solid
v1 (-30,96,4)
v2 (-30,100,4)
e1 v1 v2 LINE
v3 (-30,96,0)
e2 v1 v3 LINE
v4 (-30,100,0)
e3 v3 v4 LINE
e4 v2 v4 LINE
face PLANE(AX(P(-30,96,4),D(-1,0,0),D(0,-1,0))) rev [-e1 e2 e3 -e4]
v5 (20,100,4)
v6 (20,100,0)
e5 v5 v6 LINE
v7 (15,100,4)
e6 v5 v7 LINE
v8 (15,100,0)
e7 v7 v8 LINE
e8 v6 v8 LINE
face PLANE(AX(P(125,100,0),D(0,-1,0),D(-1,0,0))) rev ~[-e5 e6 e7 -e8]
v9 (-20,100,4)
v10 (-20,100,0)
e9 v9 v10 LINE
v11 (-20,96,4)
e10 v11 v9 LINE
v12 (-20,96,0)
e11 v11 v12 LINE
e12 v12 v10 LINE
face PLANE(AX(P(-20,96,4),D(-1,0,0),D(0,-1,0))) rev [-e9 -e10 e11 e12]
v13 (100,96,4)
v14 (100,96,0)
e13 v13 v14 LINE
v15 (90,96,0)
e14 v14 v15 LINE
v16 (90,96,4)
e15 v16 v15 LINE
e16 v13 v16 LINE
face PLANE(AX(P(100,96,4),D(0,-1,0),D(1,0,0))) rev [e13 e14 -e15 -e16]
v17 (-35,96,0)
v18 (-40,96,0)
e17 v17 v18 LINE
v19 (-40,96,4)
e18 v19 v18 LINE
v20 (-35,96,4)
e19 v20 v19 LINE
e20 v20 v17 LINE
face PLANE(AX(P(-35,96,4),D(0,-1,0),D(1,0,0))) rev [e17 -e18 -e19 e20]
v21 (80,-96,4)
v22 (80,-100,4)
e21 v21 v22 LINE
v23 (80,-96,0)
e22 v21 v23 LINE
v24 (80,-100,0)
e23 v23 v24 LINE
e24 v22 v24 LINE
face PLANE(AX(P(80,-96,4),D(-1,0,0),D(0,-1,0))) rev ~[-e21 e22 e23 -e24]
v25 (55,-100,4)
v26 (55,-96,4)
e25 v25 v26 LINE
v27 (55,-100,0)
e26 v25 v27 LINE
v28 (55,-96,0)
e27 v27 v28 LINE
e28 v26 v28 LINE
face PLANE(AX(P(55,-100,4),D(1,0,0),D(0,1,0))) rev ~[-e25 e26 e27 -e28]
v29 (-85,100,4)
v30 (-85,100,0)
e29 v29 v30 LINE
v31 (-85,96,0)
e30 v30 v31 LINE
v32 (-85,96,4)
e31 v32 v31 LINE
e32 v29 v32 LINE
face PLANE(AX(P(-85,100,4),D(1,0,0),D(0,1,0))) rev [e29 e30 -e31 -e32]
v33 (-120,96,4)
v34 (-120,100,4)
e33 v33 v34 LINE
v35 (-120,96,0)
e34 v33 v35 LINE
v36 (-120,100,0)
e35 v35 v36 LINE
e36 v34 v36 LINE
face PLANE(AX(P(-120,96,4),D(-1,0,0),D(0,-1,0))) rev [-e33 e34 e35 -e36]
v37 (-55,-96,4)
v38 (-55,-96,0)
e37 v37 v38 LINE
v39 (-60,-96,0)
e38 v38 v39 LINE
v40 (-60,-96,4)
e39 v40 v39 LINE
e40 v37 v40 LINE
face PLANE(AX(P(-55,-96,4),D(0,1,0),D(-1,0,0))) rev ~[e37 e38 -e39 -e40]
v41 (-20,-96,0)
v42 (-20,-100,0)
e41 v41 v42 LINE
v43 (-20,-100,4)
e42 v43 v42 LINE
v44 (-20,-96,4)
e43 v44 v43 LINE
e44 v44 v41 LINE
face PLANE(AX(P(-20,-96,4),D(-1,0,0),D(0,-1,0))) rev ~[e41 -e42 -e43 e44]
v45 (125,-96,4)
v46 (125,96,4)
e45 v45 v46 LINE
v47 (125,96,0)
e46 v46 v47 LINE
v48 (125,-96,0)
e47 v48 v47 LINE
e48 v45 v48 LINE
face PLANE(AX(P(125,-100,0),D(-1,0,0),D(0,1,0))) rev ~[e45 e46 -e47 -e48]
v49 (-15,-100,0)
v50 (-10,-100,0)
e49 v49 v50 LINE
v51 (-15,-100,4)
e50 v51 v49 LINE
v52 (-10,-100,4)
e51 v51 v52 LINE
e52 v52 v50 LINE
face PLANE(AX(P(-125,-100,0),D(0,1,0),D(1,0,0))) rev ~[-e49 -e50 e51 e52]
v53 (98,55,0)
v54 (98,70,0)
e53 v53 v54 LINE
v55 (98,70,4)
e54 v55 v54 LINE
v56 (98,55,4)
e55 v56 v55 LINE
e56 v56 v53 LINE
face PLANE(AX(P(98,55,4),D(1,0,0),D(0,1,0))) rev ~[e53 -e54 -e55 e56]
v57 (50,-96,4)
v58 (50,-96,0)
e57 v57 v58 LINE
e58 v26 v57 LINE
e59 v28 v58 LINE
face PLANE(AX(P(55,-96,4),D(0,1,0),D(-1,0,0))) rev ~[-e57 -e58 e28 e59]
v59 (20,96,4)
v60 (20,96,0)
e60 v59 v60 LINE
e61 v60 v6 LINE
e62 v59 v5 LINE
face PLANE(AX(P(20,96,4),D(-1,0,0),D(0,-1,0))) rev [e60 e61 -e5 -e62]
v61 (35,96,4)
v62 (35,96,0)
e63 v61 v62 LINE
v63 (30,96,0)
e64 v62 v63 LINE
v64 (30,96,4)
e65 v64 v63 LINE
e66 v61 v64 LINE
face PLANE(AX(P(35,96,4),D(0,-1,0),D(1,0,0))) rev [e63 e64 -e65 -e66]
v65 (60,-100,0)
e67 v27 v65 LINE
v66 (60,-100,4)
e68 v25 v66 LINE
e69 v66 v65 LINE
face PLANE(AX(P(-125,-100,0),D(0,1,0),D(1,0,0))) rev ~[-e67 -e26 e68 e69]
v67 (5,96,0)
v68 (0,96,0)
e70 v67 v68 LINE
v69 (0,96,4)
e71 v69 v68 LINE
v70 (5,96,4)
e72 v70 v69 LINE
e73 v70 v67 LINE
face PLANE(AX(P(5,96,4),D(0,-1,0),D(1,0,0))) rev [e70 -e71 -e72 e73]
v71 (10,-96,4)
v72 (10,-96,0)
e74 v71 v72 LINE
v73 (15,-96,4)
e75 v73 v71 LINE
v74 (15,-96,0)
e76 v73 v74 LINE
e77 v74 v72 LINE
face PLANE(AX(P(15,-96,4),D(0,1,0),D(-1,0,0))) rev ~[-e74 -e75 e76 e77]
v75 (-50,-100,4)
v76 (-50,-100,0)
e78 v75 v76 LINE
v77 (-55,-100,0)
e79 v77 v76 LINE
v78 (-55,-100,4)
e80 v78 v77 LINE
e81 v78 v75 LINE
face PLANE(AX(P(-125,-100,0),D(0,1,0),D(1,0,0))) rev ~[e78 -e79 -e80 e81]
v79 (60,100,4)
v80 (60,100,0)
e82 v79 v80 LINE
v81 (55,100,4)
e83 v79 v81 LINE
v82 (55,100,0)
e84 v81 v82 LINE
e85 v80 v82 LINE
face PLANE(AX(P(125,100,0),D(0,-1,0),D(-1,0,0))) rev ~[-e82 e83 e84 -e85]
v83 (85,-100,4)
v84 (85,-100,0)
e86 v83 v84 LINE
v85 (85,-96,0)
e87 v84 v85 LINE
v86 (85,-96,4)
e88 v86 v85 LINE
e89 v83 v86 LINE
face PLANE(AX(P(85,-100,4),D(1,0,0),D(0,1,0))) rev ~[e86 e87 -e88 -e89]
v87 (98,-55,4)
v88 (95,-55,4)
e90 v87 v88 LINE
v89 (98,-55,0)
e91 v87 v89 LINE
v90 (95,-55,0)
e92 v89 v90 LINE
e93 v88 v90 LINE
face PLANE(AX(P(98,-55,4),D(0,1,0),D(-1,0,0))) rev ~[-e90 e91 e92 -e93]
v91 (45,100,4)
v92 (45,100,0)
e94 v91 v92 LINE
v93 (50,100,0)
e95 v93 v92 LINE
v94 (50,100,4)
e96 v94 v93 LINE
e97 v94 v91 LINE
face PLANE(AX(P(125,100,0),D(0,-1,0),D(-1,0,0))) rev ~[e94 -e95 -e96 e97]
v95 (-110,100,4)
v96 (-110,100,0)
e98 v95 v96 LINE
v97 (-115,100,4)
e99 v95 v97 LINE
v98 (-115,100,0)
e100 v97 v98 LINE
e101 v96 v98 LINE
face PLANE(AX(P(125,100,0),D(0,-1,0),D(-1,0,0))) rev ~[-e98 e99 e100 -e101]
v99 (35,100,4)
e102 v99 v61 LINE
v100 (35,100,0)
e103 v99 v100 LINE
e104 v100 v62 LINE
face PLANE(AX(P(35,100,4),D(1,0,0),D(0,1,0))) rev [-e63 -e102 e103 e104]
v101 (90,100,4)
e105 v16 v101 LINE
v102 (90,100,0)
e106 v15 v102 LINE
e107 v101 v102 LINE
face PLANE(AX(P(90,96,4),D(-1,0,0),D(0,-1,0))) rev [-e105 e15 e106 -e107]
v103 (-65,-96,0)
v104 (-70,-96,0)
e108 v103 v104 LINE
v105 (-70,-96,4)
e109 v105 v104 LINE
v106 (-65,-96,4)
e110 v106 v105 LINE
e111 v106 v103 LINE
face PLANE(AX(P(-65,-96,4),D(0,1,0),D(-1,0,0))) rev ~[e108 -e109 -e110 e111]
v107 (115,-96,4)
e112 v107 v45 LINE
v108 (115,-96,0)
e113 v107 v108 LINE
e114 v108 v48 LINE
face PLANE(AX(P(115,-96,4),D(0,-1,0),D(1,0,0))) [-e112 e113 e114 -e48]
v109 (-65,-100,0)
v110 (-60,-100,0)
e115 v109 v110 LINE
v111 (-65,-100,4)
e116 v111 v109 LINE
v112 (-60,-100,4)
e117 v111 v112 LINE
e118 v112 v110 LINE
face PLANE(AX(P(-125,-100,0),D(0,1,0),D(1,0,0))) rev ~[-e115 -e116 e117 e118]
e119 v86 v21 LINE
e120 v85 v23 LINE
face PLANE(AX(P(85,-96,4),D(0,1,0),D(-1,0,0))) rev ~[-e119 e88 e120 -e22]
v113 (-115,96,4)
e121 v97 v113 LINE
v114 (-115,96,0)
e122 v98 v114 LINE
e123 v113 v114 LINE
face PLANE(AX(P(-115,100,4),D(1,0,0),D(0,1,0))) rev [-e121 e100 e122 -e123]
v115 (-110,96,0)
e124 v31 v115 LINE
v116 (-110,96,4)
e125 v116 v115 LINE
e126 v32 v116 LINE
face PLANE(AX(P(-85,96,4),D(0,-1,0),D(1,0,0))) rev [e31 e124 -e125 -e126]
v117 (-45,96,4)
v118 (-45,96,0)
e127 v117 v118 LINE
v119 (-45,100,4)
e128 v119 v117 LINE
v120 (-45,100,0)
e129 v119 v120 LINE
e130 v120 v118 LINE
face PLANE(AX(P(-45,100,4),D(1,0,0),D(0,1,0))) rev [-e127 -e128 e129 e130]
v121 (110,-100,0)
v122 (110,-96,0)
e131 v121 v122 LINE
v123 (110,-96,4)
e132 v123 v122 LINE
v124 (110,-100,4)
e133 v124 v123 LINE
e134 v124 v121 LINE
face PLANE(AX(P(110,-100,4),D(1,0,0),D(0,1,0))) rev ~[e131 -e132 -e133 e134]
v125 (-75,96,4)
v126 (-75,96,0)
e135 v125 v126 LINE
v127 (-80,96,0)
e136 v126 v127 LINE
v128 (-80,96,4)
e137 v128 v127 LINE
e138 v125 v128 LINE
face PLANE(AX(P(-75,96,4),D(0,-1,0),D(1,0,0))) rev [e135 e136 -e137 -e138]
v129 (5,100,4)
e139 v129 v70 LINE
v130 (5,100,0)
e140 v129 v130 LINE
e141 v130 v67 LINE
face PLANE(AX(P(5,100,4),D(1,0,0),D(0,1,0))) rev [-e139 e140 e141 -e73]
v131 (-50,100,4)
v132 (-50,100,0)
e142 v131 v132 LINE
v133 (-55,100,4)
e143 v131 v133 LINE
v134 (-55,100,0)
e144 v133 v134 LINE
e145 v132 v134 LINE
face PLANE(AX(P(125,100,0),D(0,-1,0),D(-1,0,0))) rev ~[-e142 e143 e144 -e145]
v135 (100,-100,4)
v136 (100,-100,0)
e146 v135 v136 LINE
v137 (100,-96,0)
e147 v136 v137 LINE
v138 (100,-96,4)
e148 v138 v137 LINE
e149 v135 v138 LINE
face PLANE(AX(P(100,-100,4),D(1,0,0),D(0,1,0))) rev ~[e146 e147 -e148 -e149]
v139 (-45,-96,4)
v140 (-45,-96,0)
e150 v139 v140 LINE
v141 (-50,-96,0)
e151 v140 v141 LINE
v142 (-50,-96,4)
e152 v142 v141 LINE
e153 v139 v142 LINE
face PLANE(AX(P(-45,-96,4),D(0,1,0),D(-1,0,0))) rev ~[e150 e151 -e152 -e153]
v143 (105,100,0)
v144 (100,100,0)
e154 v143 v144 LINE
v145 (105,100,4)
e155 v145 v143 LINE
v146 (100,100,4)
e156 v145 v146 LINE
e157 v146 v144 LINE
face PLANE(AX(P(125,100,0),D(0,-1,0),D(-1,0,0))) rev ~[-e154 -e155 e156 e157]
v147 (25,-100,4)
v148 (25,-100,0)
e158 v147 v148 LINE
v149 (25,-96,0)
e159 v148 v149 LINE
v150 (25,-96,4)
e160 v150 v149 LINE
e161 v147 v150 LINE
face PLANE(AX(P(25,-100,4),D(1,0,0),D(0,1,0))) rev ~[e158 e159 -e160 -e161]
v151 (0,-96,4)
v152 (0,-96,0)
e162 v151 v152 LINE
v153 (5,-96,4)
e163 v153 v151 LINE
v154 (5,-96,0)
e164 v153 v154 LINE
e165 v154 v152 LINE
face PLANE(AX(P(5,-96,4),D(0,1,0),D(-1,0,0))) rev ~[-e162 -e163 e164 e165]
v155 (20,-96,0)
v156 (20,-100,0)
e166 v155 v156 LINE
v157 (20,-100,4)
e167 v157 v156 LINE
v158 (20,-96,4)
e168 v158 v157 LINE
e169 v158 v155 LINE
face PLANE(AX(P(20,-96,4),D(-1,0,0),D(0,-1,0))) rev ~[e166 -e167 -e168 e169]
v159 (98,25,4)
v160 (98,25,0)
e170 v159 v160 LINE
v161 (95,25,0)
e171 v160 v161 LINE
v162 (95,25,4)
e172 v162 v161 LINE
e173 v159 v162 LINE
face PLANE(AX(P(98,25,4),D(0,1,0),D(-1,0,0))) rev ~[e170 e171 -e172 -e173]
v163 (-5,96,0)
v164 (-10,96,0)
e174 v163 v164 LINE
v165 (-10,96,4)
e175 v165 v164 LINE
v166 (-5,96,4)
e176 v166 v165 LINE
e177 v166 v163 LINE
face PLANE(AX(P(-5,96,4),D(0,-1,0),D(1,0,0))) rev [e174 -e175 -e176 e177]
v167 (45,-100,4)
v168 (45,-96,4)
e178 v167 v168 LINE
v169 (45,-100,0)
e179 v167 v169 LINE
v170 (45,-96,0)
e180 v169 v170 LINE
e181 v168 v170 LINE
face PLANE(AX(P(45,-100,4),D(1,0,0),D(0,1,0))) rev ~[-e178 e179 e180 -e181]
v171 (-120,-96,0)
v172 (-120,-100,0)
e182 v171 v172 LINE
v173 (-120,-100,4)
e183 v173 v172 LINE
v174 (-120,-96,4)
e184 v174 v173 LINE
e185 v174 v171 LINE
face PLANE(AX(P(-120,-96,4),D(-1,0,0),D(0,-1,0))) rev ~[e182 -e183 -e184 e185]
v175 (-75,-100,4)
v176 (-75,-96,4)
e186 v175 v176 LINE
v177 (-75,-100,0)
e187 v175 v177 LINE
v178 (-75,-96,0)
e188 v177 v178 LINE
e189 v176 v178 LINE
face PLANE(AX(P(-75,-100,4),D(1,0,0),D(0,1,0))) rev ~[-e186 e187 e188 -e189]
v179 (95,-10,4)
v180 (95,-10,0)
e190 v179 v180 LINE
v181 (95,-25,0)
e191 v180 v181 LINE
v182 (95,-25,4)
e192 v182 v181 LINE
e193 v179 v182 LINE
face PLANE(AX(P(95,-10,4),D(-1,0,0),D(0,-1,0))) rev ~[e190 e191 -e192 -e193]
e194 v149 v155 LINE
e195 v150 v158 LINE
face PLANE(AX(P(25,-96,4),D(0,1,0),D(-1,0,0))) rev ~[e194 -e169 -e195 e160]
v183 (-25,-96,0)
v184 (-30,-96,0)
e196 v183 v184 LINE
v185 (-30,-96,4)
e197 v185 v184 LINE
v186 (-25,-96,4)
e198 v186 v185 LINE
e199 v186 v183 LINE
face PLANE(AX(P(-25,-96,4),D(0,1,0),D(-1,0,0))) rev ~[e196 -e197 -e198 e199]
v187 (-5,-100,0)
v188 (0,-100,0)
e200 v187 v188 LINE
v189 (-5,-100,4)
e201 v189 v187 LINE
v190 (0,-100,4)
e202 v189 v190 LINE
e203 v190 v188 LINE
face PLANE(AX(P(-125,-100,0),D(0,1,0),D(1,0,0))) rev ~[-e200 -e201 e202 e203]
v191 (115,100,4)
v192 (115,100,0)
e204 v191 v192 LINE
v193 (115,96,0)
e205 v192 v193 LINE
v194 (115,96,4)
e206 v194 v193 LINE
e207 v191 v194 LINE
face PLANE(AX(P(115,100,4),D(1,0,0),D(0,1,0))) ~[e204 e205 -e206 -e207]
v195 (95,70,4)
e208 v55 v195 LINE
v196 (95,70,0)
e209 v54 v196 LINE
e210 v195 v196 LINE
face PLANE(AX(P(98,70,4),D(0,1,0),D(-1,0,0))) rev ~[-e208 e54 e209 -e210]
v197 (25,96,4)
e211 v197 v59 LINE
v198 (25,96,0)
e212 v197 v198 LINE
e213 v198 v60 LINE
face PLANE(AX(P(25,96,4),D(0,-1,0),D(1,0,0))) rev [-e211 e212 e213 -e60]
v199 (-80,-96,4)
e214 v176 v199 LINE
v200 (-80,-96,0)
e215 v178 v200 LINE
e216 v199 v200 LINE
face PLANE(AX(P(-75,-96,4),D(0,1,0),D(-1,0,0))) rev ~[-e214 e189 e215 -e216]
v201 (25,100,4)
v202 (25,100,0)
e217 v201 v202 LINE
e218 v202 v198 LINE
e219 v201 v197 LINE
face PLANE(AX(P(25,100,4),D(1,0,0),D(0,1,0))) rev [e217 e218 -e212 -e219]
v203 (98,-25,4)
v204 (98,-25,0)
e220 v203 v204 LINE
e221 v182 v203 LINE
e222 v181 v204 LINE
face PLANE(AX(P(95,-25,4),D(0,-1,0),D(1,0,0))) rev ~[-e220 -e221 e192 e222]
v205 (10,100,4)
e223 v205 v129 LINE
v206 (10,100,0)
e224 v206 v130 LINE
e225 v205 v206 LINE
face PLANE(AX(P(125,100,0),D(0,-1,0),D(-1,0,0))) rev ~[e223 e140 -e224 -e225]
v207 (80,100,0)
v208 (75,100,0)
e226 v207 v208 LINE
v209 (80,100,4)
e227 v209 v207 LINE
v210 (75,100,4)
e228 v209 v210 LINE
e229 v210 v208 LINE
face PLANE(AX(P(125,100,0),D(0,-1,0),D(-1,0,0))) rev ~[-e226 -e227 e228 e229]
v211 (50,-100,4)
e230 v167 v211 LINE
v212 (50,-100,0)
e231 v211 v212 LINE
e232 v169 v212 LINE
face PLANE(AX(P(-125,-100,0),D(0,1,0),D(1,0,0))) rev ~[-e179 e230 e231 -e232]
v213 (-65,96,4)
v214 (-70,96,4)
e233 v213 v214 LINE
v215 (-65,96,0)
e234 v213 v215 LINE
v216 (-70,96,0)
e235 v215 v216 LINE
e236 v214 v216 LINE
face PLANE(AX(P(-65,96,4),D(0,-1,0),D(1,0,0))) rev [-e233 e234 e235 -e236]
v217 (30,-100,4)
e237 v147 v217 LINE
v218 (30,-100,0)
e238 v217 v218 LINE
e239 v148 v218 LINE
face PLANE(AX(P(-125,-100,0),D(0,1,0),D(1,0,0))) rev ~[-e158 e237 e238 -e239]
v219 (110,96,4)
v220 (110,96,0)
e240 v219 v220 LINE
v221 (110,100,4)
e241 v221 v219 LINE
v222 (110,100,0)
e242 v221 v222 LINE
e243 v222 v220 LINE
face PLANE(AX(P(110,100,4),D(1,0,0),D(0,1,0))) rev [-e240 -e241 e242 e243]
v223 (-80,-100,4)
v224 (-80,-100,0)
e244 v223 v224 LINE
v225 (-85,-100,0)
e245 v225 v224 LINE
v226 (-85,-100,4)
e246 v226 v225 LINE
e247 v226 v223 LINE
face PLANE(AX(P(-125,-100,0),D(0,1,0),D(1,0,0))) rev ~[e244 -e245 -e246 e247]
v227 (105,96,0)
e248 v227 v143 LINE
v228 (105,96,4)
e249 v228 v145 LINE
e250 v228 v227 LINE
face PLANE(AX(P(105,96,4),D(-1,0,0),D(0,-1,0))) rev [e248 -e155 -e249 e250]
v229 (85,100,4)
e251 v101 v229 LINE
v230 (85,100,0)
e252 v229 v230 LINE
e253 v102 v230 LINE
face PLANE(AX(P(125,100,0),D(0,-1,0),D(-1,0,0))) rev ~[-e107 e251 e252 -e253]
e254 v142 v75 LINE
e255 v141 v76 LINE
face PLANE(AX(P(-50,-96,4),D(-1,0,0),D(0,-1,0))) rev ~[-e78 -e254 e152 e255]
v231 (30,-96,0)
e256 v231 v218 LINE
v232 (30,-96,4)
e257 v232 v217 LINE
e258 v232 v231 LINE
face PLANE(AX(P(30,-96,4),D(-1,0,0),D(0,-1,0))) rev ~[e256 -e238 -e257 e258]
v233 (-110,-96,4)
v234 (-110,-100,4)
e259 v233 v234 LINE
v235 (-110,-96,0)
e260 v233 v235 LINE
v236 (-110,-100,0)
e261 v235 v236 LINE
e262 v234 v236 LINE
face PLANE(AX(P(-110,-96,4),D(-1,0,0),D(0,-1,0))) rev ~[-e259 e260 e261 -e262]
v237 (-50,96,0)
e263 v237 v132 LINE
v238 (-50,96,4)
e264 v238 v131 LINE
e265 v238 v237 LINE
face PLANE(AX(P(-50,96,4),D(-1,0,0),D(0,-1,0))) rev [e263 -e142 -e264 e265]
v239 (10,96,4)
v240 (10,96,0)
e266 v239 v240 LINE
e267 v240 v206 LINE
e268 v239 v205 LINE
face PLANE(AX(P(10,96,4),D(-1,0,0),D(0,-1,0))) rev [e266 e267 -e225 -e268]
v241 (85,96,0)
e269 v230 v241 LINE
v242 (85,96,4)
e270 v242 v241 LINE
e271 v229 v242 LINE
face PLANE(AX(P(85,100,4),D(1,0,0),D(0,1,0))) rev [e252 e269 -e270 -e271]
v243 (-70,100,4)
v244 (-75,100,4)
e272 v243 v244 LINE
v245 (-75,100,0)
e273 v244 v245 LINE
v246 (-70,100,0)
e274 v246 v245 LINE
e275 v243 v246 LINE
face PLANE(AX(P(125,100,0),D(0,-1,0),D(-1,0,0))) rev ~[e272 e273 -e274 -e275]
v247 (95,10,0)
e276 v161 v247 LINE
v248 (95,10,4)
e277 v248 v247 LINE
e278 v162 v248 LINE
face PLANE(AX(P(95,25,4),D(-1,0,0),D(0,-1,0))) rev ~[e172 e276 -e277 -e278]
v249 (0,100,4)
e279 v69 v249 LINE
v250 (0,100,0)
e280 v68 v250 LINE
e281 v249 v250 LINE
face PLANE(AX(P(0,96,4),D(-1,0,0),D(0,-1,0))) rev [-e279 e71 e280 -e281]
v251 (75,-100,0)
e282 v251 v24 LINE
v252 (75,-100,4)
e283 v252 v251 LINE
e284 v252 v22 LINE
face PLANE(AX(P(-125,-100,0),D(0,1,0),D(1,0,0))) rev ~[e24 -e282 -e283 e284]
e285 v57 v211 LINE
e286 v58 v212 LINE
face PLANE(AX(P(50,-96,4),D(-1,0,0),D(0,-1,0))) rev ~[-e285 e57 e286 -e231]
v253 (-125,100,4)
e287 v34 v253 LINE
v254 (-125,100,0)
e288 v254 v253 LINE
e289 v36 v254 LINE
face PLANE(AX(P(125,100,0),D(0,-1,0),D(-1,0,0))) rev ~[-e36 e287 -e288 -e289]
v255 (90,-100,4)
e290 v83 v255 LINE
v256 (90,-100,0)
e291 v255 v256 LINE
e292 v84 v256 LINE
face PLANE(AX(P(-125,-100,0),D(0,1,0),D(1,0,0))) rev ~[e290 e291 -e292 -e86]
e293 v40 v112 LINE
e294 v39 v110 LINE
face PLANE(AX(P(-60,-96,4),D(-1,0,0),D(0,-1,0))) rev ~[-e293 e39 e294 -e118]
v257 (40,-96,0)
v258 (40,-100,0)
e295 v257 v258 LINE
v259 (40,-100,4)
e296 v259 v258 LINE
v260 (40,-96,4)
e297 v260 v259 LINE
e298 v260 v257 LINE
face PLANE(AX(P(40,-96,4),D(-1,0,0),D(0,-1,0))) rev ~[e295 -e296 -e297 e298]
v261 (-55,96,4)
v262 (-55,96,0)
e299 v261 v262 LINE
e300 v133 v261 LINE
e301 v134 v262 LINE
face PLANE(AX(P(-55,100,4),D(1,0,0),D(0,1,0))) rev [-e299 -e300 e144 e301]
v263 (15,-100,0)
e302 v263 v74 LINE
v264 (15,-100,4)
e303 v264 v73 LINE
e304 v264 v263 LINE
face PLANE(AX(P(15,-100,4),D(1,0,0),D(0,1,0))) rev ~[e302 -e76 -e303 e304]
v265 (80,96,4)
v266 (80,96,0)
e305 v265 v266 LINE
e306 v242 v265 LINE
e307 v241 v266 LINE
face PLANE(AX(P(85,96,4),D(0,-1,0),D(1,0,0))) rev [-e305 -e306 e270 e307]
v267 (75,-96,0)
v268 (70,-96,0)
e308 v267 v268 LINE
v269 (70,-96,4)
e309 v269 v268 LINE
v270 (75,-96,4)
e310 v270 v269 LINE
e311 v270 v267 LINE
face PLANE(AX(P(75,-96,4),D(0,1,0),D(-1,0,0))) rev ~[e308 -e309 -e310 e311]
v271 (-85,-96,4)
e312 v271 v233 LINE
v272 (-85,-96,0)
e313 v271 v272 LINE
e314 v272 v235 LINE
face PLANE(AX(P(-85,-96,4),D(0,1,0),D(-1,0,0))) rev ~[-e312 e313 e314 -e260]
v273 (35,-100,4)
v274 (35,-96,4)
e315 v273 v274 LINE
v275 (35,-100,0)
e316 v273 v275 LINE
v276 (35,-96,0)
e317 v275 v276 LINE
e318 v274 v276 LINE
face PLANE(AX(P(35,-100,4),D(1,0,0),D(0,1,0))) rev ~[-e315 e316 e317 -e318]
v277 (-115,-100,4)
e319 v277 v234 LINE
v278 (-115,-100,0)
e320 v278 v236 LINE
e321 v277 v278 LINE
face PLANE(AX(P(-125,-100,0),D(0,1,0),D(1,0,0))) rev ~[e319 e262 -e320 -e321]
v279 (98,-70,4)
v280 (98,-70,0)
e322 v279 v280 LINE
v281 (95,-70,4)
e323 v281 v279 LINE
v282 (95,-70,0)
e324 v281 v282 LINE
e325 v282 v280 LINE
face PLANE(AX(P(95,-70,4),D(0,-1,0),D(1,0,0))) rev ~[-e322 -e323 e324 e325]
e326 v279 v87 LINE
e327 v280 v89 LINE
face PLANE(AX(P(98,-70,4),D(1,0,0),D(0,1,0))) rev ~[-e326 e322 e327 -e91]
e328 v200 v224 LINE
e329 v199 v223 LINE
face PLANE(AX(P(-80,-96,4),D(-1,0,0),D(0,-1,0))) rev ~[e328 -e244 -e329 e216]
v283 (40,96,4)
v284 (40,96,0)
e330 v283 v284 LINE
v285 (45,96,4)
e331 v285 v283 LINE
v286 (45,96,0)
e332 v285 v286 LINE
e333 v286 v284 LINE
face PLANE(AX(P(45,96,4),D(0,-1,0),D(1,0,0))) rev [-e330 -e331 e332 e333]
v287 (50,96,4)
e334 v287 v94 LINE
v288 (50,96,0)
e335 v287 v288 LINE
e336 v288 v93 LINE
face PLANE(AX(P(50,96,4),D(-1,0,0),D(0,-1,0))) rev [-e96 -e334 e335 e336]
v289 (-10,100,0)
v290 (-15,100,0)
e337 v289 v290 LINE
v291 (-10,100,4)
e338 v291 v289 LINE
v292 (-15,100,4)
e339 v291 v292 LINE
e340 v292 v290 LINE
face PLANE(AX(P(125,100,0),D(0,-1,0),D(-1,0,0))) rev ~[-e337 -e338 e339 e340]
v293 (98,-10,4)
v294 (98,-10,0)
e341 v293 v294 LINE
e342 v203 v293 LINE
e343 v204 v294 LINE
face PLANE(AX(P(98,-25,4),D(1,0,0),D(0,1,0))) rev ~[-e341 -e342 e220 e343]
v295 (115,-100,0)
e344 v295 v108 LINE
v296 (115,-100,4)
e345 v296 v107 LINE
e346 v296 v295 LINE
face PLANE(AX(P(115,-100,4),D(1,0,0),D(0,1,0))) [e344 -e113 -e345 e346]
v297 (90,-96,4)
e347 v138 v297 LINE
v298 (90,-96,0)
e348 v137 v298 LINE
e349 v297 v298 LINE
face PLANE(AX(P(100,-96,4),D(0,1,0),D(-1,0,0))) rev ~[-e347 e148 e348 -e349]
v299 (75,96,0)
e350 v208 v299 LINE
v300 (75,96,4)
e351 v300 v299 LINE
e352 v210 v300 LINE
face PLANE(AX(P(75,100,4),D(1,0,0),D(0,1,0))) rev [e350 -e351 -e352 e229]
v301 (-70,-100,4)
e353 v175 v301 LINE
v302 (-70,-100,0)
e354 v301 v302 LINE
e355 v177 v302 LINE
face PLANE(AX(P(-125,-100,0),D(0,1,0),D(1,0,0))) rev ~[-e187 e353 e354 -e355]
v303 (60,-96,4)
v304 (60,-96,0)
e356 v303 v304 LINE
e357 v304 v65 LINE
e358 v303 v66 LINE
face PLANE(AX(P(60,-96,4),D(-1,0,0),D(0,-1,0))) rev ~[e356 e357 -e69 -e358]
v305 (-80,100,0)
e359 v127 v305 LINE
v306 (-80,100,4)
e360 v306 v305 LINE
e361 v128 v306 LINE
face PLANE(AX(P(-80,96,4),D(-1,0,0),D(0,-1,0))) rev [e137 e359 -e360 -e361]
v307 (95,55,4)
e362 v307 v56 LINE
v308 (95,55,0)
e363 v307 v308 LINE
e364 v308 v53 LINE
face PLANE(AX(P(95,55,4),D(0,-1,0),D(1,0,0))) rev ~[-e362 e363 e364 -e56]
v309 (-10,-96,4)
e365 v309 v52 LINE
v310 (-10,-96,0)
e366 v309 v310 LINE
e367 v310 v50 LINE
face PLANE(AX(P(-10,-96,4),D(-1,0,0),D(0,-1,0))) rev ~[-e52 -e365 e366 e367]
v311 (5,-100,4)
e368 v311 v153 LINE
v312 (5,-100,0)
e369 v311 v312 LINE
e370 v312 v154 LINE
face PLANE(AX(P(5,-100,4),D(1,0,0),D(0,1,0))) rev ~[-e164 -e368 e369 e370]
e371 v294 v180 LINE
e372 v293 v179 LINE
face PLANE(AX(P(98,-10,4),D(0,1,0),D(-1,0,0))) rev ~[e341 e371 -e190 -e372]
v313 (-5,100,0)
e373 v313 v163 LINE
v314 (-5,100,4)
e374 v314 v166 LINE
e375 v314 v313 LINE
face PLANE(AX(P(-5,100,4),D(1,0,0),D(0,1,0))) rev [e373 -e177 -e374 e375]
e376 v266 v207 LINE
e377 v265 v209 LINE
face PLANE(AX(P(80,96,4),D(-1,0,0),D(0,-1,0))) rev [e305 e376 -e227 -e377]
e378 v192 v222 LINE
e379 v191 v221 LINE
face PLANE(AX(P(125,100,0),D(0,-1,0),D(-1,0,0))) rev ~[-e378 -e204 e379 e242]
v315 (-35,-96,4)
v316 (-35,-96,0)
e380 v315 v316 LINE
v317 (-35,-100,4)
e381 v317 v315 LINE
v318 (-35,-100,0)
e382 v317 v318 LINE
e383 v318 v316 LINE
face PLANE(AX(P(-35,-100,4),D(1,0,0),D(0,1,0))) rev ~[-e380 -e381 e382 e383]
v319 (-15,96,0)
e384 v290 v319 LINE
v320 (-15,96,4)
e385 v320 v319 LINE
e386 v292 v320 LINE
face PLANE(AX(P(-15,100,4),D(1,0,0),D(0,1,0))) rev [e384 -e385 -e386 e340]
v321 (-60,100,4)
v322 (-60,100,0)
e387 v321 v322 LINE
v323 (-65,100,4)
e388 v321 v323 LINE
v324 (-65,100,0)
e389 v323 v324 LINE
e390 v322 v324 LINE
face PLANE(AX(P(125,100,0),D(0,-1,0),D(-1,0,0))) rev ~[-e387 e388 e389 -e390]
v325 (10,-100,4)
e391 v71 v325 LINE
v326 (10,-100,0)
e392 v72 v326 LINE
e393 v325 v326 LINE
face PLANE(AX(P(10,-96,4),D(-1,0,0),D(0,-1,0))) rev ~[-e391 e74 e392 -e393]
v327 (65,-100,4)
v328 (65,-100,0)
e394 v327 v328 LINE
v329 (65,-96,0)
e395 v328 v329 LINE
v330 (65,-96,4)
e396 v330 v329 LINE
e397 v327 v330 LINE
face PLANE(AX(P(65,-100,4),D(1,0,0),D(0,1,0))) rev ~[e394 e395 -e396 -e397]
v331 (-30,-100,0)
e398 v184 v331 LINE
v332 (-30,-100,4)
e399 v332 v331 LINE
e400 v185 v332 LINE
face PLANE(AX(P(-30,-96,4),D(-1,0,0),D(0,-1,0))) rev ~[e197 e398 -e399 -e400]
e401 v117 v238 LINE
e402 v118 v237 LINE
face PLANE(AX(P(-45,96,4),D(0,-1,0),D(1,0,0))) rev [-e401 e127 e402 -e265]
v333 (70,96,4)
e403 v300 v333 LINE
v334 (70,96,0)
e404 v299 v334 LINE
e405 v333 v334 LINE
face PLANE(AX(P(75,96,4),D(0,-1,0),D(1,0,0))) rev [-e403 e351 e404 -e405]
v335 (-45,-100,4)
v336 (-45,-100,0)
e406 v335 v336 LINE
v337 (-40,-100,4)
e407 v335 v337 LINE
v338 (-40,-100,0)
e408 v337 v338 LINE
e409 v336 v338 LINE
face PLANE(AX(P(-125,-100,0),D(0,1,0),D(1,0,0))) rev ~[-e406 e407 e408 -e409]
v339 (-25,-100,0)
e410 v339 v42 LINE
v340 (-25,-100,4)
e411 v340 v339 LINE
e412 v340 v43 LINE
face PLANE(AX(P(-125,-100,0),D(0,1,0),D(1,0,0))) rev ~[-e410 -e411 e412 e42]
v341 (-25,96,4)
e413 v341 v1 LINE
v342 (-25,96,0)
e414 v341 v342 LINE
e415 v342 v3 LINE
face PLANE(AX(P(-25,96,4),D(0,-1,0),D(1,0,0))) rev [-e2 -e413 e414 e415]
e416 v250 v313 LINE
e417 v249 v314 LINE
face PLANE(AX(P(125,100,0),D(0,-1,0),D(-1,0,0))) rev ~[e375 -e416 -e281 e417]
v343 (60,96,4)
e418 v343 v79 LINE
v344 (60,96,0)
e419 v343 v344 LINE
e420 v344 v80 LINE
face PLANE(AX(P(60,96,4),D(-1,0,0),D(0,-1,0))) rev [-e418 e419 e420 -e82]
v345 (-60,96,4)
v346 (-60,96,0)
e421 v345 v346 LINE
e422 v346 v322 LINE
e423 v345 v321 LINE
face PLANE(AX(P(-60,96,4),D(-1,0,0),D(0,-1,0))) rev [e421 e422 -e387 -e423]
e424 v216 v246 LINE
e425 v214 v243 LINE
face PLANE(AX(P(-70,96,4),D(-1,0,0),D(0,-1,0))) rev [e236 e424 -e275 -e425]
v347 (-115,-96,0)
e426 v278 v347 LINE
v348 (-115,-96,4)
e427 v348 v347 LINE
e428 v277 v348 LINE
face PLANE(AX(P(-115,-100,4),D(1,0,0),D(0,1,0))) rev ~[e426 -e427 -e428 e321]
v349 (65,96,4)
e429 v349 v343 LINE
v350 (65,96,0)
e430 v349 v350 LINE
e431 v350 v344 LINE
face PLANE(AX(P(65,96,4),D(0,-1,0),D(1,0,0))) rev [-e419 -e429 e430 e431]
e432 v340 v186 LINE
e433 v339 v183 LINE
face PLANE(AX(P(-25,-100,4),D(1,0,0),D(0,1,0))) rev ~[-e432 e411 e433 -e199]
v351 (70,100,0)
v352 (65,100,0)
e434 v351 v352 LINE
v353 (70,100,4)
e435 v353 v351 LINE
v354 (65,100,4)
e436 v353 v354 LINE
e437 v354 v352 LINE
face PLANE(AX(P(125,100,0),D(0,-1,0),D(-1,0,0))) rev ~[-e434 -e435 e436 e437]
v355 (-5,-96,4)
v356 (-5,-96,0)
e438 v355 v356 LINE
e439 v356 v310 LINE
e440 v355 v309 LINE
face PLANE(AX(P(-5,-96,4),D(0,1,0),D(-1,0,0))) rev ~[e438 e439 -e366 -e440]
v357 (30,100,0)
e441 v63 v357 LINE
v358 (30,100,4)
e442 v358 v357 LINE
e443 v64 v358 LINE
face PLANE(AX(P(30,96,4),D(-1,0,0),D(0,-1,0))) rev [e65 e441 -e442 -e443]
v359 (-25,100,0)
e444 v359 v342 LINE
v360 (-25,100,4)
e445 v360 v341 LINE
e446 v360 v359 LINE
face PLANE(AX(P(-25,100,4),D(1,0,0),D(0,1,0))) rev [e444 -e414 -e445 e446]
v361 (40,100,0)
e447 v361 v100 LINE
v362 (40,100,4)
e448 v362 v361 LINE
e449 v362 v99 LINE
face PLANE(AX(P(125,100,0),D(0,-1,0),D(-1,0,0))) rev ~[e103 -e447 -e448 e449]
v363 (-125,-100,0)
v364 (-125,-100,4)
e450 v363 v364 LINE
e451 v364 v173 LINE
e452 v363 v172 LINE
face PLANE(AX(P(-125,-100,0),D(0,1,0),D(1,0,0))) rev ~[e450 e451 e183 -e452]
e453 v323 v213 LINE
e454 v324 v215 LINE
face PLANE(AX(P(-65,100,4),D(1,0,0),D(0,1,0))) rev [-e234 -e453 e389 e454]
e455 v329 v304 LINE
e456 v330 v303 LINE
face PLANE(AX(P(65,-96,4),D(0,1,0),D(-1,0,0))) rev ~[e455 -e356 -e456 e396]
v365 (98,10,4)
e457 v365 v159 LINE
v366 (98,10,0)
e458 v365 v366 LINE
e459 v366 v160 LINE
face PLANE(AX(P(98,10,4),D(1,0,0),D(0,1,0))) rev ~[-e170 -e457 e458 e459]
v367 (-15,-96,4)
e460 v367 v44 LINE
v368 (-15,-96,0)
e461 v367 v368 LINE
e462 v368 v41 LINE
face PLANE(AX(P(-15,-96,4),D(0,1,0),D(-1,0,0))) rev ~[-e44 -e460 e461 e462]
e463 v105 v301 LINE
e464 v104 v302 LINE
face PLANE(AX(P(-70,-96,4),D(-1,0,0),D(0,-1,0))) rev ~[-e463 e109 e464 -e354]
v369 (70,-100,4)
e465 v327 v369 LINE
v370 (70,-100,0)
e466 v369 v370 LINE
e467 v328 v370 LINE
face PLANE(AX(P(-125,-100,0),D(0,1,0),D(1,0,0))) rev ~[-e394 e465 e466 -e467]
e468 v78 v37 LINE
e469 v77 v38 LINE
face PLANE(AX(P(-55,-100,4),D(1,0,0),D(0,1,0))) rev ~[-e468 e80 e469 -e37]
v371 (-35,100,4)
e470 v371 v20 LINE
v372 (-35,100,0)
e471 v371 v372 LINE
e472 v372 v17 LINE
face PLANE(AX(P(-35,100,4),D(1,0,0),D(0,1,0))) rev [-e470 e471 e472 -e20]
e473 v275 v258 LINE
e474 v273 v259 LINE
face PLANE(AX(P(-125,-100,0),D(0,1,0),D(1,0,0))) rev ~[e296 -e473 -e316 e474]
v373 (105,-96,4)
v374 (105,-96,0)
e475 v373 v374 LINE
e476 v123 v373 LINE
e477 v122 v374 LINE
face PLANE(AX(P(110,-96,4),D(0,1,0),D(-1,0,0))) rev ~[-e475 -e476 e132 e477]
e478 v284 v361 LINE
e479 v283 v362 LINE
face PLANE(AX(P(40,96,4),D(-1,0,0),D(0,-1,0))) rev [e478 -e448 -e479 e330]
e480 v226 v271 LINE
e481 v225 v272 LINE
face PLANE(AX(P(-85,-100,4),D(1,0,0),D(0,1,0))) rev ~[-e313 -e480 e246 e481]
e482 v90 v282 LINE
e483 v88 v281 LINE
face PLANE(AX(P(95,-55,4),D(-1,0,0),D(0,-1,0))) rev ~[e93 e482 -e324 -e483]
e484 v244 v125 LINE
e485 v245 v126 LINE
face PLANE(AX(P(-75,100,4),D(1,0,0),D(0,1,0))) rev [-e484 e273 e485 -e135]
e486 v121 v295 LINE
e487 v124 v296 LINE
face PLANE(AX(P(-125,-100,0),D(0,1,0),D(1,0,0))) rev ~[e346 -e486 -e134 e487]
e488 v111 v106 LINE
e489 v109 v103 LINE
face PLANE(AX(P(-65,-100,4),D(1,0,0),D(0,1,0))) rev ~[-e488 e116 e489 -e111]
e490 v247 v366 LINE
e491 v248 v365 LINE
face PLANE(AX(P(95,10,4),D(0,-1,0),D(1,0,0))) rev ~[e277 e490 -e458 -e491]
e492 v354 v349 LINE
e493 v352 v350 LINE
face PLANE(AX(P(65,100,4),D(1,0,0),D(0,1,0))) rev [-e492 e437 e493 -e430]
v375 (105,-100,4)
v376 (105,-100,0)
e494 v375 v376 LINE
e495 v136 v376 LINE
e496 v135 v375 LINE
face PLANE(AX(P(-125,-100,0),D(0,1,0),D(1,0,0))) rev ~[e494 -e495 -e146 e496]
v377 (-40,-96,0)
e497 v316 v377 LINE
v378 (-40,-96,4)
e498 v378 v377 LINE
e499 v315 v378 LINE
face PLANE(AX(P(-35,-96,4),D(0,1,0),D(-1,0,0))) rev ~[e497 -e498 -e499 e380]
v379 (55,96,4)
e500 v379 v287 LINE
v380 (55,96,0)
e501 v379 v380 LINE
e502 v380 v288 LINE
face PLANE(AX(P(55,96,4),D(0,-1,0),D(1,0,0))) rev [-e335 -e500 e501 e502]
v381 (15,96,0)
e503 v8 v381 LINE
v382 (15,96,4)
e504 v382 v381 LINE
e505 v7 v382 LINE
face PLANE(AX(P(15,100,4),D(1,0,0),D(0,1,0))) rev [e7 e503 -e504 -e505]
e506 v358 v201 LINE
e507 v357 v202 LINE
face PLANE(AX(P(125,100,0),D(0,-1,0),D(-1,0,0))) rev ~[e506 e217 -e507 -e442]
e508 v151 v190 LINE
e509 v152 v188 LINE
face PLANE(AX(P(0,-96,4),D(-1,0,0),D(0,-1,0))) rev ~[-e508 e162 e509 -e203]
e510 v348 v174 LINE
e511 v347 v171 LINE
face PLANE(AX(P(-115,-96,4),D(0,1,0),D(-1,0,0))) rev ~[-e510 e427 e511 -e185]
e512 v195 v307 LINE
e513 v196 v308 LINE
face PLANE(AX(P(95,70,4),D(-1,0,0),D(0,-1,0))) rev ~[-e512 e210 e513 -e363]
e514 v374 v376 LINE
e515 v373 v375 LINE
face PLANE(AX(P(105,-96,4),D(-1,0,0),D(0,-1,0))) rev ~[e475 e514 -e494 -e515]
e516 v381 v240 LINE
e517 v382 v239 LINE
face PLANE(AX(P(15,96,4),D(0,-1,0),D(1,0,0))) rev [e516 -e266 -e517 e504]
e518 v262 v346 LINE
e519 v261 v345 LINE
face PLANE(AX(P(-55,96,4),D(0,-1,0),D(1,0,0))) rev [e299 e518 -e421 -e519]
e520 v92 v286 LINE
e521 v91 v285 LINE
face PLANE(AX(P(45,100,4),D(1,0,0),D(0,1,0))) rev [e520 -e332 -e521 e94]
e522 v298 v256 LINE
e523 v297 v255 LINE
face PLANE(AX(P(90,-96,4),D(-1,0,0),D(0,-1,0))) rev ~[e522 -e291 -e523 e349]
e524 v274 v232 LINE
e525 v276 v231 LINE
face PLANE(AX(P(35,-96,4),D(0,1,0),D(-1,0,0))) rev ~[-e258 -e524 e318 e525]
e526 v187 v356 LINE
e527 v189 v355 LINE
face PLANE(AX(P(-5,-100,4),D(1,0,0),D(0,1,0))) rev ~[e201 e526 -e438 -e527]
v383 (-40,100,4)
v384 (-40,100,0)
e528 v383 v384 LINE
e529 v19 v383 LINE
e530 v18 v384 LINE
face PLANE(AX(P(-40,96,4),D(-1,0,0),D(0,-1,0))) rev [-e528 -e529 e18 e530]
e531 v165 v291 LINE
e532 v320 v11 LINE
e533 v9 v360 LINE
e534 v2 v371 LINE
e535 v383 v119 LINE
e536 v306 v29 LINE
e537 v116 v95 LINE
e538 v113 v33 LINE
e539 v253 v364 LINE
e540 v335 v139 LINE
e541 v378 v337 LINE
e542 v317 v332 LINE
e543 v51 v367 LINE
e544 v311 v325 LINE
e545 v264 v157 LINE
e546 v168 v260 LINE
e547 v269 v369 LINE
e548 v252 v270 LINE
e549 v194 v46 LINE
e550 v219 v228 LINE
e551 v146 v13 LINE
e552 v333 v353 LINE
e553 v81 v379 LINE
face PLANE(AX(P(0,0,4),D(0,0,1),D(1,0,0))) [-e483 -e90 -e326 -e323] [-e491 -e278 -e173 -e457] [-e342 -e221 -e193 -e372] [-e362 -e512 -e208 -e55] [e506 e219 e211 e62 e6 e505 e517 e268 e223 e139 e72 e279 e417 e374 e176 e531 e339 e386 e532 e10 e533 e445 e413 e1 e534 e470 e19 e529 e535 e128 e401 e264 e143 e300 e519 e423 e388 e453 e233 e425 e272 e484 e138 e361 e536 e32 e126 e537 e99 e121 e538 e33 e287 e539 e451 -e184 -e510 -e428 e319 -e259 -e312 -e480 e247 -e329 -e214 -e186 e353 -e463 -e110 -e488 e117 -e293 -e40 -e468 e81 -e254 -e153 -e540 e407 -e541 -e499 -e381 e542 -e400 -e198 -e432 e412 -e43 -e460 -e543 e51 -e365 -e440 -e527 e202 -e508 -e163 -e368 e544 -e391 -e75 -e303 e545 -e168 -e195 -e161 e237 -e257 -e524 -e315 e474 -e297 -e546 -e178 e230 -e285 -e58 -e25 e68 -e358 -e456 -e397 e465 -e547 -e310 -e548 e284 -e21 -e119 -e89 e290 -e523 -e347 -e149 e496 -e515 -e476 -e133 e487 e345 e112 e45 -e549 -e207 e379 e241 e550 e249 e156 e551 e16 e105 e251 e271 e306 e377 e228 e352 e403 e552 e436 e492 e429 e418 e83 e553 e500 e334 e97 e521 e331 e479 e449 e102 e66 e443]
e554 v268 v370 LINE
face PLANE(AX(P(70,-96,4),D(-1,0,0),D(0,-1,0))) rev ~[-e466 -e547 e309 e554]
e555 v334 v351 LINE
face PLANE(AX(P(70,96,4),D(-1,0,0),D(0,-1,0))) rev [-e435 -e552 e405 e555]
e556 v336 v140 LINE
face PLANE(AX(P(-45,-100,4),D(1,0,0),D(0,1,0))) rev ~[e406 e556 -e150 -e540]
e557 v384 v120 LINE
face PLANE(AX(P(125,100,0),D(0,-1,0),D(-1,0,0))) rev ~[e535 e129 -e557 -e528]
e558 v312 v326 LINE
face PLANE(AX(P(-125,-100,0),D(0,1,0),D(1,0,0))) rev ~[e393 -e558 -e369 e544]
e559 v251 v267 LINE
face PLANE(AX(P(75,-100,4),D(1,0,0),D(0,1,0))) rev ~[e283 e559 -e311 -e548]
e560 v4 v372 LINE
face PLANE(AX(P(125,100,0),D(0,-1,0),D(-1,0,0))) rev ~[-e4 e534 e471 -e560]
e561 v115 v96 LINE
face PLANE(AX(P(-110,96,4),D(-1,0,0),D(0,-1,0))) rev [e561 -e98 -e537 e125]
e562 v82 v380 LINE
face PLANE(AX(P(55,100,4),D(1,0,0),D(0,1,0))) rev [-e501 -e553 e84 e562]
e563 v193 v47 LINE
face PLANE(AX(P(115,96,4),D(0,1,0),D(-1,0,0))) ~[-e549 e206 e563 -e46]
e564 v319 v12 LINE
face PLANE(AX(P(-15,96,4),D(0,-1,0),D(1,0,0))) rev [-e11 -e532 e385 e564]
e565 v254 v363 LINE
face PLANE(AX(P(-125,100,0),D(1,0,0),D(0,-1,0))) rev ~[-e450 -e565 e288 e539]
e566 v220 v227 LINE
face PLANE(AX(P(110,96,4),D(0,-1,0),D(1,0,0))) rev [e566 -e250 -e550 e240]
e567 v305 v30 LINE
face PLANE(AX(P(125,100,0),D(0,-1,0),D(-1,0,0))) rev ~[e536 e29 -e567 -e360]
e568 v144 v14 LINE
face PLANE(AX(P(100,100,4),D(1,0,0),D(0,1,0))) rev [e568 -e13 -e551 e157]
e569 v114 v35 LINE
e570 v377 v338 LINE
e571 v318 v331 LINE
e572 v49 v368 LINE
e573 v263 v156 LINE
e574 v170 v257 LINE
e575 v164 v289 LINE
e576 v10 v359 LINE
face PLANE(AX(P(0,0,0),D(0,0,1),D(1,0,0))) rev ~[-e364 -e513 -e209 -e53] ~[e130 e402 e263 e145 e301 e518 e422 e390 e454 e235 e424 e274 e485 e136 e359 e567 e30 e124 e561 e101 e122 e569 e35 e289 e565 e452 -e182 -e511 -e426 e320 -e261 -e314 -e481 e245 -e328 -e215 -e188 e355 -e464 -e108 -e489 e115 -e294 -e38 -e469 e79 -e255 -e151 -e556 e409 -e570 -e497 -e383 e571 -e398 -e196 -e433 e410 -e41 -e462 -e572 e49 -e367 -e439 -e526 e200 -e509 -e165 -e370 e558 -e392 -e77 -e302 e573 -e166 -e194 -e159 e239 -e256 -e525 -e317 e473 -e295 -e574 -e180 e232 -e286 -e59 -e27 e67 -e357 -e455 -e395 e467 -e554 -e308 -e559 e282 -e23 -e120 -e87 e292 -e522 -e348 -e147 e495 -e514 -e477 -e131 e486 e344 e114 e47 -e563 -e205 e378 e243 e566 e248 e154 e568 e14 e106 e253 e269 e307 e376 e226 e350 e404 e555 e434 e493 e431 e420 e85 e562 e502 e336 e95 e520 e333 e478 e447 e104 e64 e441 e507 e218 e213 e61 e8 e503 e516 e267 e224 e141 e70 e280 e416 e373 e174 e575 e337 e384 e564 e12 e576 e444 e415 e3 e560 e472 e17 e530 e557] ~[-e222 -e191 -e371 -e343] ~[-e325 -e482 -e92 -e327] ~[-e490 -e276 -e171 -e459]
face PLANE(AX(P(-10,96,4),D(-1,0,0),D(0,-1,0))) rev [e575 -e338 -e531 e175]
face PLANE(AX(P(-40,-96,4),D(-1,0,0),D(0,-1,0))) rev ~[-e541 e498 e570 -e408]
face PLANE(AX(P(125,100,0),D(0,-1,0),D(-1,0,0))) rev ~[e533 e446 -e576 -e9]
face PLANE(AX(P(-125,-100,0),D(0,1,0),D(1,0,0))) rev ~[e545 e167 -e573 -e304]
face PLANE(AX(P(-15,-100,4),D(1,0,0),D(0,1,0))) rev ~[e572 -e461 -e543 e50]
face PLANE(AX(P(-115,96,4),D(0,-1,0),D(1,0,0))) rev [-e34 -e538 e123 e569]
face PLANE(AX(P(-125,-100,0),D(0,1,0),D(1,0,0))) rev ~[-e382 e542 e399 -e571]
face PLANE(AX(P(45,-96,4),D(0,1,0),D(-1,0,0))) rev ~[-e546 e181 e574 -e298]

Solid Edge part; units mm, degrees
sketch "Sketch1" plane through (0, 0, 0) normal (0, 0, 1) x (1, 0, 0)
  line L0 (-125, -100) -> (125, -100)
  line L1 (125, -100) -> (125, 100)
  line L2 (125, 100) -> (-125, 100)
  line L3 (-125, 100) -> (-125, -100)
  dimension "D1" = 250
  dimension "D2" = 200
  dimension "D3" = 125
  dimension "D4" = 100
extrude "Protrusion1" add sketch "Sketch1" along normal blind 4
sketch "Sketch2" plane through (5.3148, 16.6689, 4) normal (0, 0, 1) x (0, 1, 0)
  line L0 (-116.6689, -69.6852) -> (-112.6689, -69.6852)
  line L1 (-112.6689, -69.6852) -> (-112.6689, -64.6852)
  line L2 (-112.6689, -64.6852) -> (-116.6689, -64.6852)
  line L3 (-116.6689, -64.6852) -> (-116.6689, -69.6852)
  line L4 (-116.6689, -59.6852) -> (-112.6689, -59.6852)
  line L5 (-112.6689, -59.6852) -> (-112.6689, -54.6852)
  line L6 (-112.6689, -54.6852) -> (-116.6689, -54.6852)
  line L7 (-116.6689, -54.6852) -> (-116.6689, -59.6852)
  line L8 (-116.6689, -49.6852) -> (-112.6689, -49.6852)
  line L9 (-112.6689, -49.6852) -> (-112.6689, -44.6852)
  line L10 (-112.6689, -44.6852) -> (-116.6689, -44.6852)
  line L11 (-116.6689, -44.6852) -> (-116.6689, -49.6852)
  line L12 (-116.6689, -39.6852) -> (-112.6689, -39.6852)
  line L13 (-112.6689, -39.6852) -> (-112.6689, -34.6852)
  line L14 (-112.6689, -34.6852) -> (-116.6689, -34.6852)
  line L15 (-116.6689, -34.6852) -> (-116.6689, -39.6852)
  line L16 (-116.6689, -29.6852) -> (-112.6689, -29.6852)
  line L17 (-112.6689, -29.6852) -> (-112.6689, -24.6852)
  line L18 (-112.6689, -24.6852) -> (-116.6689, -24.6852)
  line L19 (-116.6689, -24.6852) -> (-116.6689, -29.6852)
  line L20 (-116.6689, -19.6852) -> (-112.6689, -19.6852)
  line L21 (-112.6689, -19.6852) -> (-112.6689, -14.6852)
  line L22 (-112.6689, -14.6852) -> (-116.6689, -14.6852)
  line L23 (-116.6689, -14.6852) -> (-116.6689, -19.6852)
  line L24 (-116.6689, -9.6852) -> (-112.6689, -9.6852)
  line L25 (-112.6689, -9.6852) -> (-112.6689, -4.6852)
  line L26 (-112.6689, -4.6852) -> (-116.6689, -4.6852)
  line L27 (-116.6689, -4.6852) -> (-116.6689, -9.6852)
  line L28 (-116.6689, 0.3148) -> (-112.6689, 0.3148)
  line L29 (-112.6689, 0.3148) -> (-112.6689, 5.3148)
  line L30 (-112.6689, 5.3148) -> (-116.6689, 5.3148)
  line L31 (-116.6689, 5.3148) -> (-116.6689, 0.3148)
  line L32 (-116.6689, 10.3148) -> (-112.6689, 10.3148)
  line L33 (-112.6689, 10.3148) -> (-112.6689, 15.3148)
  line L34 (-112.6689, 15.3148) -> (-116.6689, 15.3148)
  line L35 (-116.6689, 15.3148) -> (-116.6689, 10.3148)
  line L36 (-116.6689, 20.3148) -> (-112.6689, 20.3148)
  line L37 (-112.6689, 20.3148) -> (-112.6689, 25.3148)
  line L38 (-112.6689, 25.3148) -> (-116.6689, 25.3148)
  line L39 (-116.6689, 25.3148) -> (-116.6689, 20.3148)
  line L40 (-116.6689, 30.3148) -> (-112.6689, 30.3148)
  line L41 (-112.6689, 30.3148) -> (-112.6689, 35.3148)
  line L42 (-112.6689, 35.3148) -> (-116.6689, 35.3148)
  line L43 (-116.6689, 35.3148) -> (-116.6689, 30.3148)
  line L44 (-116.6689, 40.3148) -> (-112.6689, 40.3148)
  line L45 (-112.6689, 40.3148) -> (-112.6689, 45.3148)
  line L46 (-112.6689, 45.3148) -> (-116.6689, 45.3148)
  line L47 (-116.6689, 45.3148) -> (-116.6689, 40.3148)
  line L48 (-116.6689, 50.3148) -> (-112.6689, 50.3148)
  line L49 (-112.6689, 50.3148) -> (-112.6689, 55.3148)
  line L50 (-112.6689, 55.3148) -> (-116.6689, 55.3148)
  line L51 (-116.6689, 55.3148) -> (-116.6689, 50.3148)
  line L52 (-116.6689, 60.3148) -> (-112.6689, 60.3148)
  line L53 (-112.6689, 60.3148) -> (-112.6689, 65.3148)
  line L54 (-112.6689, 65.3148) -> (-116.6689, 65.3148)
  line L55 (-116.6689, 65.3148) -> (-116.6689, 60.3148)
  line L56 (-116.6689, 70.3148) -> (-112.6689, 70.3148)
  line L57 (-112.6689, 70.3148) -> (-112.6689, 75.3148)
  line L58 (-112.6689, 75.3148) -> (-116.6689, 75.3148)
  line L59 (-116.6689, 75.3148) -> (-116.6689, 70.3148)
  line L60 (-116.6689, 80.3148) -> (-112.6689, 80.3148)
  line L61 (-112.6689, 80.3148) -> (-112.6689, 85.3148)
  line L62 (-112.6689, 85.3148) -> (-116.6689, 85.3148)
  line L63 (-116.6689, 85.3148) -> (-116.6689, 80.3148)
  line L64 (-116.6689, 90.3148) -> (-112.6689, 90.3148)
  line L65 (-112.6689, 90.3148) -> (-112.6689, 115.3148)
  line L66 (-112.6689, 115.3148) -> (-116.6689, 115.3148)
  line L67 (-116.6689, 115.3148) -> (-116.6689, 90.3148)
  line L68 (-116.6689, 120.3148) -> (-112.6689, 120.3148)
  line L69 (-112.6689, 120.3148) -> (-112.6689, 125.3148)
  line L70 (-112.6689, 125.3148) -> (-116.6689, 125.3148)
  line L71 (-116.6689, 125.3148) -> (-116.6689, 120.3148)
  line L72 (-116.6689, -94.6852) -> (-112.6689, -94.6852)
  line L73 (-112.6689, -94.6852) -> (-112.6689, -84.6852)
  line L74 (-112.6689, -84.6852) -> (-116.6689, -84.6852)
  line L75 (-116.6689, -84.6852) -> (-116.6689, -94.6852)
  line L76 (-116.6689, -99.6852) -> (-116.6689, -104.6852)
  line L77 (-116.6689, -104.6852) -> (-112.6689, -104.6852)
  line L78 (-112.6689, -104.6852) -> (-112.6689, -99.6852)
  line L79 (-112.6689, -99.6852) -> (-116.6689, -99.6852)
  line L80 (-116.6689, -109.6852) -> (-112.6689, -109.6852)
  line L81 (-112.6689, -109.6852) -> (-112.6689, -119.6852)
  line L82 (-112.6689, -119.6852) -> (-116.6689, -119.6852)
  line L83 (-116.6689, -119.6852) -> (-116.6689, -109.6852)
  line L84 (-116.6689, -79.6852) -> (-112.6689, -79.6852)
  line L85 (-112.6689, -79.6852) -> (-112.6689, -74.6852)
  line L86 (-112.6689, -74.6852) -> (-116.6689, -74.6852)
  line L87 (-116.6689, -74.6852) -> (-116.6689, -79.6852)
  dimension "D1" = 4
  dimension "D2" = 5
  dimension "D3" = 4
  dimension "D4" = 25
  dimension "D5" = 5
  dimension "D6" = 5
  dimension "D7" = 4
  dimension "D8" = 5
  dimension "D9" = 4
  dimension "D10" = 5
  dimension "D11" = 4
  dimension "D12" = 5
  dimension "D13" = 4
  dimension "D14" = 5
  dimension "D15" = 4
  dimension "D16" = 5
  dimension "D17" = 4
  dimension "D18" = 5
  dimension "D19" = 5
  dimension "D20" = 5
  dimension "D21" = 5
  dimension "D22" = 5
  dimension "D23" = 4
  dimension "D24" = 4
  dimension "D25" = 5
  dimension "D26" = 4
  dimension "D27" = 5
  dimension "D28" = 4
  dimension "D29" = 5
  dimension "D30" = 4
  dimension "D31" = 5
  dimension "D32" = 4
  dimension "D33" = 5
  dimension "D34" = 4
  dimension "D35" = 5
  dimension "D36" = 4
  dimension "D37" = 5
  dimension "D38" = 4
  dimension "D39" = 5
  dimension "D40" = 4
  dimension "D41" = 5
  dimension "D42" = 4
  dimension "D43" = 5
  dimension "D44" = 5
  dimension "D45" = 5
  dimension "D46" = 5
  dimension "D47" = 5
  dimension "D48" = 5
  dimension "D49" = 5
  dimension "D50" = 5
  dimension "D51" = 5
  dimension "D52" = 5
  dimension "D53" = 5
  dimension "D54" = 5
  dimension "D55" = 5
  dimension "D56" = 5
  dimension "D57" = 10
  dimension "D58" = 4
  dimension "D59" = 4
  dimension "D60" = 5
  dimension "D61" = 4
  dimension "D62" = 10
  dimension "D63" = 5
  dimension "D64" = 5
  dimension "D65" = 5
  dimension "D66" = 5
extrude "Cutout1" cut sketch "Sketch2" against normal through all
sketch "Sketch3" plane through (5.3147, 16.6689, 4) normal (0, 0, 1) x (-1, 0, 0)
  line L0 (-92.6853, 26.6689) -> (-89.6853, 26.6689)
  line L1 (-89.6853, 26.6689) -> (-89.6853, 41.6689)
  line L2 (-89.6853, 41.6689) -> (-92.6853, 41.6689)
  line L3 (-92.6853, 41.6689) -> (-92.6853, 26.6689)
  line L4 (-92.6853, -8.3311) -> (-89.6853, -8.3311)
  line L5 (-89.6853, -8.3311) -> (-89.6853, 6.6689)
  line L6 (-89.6853, 6.6689) -> (-92.6853, 6.6689)
  line L7 (-92.6853, 6.6689) -> (-92.6853, -8.3311)
  line L8 (-92.6853, -53.3311) -> (-89.6853, -53.3311)
  line L9 (-89.6853, -53.3311) -> (-89.6853, -38.3311)
  line L10 (-89.6853, -38.3311) -> (-92.6853, -38.3311)
  line L11 (-92.6853, -38.3311) -> (-92.6853, -53.3311)
  line L12 (-92.6853, 71.6689) -> (-89.6853, 71.6689)
  line L13 (-89.6853, 71.6689) -> (-89.6853, 86.6689)
  line L14 (-89.6853, 86.6689) -> (-92.6853, 86.6689)
  line L15 (-92.6853, 86.6689) -> (-92.6853, 71.6689)
  dimension "D1" = 3
  dimension "D2" = 15
  dimension "D3" = 27
  dimension "D4" = 30
  dimension "D5" = 3
  dimension "D6" = 15
  dimension "D7" = 3
  dimension "D8" = 15
  dimension "D9" = 30
  dimension "D10" = 20
  dimension "D11" = 3
  dimension "D12" = 15
  dimension "D13" = 30
  dimension "D14" = 30
  dimension "D15" = 27
  dimension "D16" = 27
  dimension "D17" = 27
extrude "Cutout2" cut sketch "Sketch3" against normal through all
mirror "Mirror1" about plane through (0, 0, 0) normal (0, -1, 0) of "Cutout1"
